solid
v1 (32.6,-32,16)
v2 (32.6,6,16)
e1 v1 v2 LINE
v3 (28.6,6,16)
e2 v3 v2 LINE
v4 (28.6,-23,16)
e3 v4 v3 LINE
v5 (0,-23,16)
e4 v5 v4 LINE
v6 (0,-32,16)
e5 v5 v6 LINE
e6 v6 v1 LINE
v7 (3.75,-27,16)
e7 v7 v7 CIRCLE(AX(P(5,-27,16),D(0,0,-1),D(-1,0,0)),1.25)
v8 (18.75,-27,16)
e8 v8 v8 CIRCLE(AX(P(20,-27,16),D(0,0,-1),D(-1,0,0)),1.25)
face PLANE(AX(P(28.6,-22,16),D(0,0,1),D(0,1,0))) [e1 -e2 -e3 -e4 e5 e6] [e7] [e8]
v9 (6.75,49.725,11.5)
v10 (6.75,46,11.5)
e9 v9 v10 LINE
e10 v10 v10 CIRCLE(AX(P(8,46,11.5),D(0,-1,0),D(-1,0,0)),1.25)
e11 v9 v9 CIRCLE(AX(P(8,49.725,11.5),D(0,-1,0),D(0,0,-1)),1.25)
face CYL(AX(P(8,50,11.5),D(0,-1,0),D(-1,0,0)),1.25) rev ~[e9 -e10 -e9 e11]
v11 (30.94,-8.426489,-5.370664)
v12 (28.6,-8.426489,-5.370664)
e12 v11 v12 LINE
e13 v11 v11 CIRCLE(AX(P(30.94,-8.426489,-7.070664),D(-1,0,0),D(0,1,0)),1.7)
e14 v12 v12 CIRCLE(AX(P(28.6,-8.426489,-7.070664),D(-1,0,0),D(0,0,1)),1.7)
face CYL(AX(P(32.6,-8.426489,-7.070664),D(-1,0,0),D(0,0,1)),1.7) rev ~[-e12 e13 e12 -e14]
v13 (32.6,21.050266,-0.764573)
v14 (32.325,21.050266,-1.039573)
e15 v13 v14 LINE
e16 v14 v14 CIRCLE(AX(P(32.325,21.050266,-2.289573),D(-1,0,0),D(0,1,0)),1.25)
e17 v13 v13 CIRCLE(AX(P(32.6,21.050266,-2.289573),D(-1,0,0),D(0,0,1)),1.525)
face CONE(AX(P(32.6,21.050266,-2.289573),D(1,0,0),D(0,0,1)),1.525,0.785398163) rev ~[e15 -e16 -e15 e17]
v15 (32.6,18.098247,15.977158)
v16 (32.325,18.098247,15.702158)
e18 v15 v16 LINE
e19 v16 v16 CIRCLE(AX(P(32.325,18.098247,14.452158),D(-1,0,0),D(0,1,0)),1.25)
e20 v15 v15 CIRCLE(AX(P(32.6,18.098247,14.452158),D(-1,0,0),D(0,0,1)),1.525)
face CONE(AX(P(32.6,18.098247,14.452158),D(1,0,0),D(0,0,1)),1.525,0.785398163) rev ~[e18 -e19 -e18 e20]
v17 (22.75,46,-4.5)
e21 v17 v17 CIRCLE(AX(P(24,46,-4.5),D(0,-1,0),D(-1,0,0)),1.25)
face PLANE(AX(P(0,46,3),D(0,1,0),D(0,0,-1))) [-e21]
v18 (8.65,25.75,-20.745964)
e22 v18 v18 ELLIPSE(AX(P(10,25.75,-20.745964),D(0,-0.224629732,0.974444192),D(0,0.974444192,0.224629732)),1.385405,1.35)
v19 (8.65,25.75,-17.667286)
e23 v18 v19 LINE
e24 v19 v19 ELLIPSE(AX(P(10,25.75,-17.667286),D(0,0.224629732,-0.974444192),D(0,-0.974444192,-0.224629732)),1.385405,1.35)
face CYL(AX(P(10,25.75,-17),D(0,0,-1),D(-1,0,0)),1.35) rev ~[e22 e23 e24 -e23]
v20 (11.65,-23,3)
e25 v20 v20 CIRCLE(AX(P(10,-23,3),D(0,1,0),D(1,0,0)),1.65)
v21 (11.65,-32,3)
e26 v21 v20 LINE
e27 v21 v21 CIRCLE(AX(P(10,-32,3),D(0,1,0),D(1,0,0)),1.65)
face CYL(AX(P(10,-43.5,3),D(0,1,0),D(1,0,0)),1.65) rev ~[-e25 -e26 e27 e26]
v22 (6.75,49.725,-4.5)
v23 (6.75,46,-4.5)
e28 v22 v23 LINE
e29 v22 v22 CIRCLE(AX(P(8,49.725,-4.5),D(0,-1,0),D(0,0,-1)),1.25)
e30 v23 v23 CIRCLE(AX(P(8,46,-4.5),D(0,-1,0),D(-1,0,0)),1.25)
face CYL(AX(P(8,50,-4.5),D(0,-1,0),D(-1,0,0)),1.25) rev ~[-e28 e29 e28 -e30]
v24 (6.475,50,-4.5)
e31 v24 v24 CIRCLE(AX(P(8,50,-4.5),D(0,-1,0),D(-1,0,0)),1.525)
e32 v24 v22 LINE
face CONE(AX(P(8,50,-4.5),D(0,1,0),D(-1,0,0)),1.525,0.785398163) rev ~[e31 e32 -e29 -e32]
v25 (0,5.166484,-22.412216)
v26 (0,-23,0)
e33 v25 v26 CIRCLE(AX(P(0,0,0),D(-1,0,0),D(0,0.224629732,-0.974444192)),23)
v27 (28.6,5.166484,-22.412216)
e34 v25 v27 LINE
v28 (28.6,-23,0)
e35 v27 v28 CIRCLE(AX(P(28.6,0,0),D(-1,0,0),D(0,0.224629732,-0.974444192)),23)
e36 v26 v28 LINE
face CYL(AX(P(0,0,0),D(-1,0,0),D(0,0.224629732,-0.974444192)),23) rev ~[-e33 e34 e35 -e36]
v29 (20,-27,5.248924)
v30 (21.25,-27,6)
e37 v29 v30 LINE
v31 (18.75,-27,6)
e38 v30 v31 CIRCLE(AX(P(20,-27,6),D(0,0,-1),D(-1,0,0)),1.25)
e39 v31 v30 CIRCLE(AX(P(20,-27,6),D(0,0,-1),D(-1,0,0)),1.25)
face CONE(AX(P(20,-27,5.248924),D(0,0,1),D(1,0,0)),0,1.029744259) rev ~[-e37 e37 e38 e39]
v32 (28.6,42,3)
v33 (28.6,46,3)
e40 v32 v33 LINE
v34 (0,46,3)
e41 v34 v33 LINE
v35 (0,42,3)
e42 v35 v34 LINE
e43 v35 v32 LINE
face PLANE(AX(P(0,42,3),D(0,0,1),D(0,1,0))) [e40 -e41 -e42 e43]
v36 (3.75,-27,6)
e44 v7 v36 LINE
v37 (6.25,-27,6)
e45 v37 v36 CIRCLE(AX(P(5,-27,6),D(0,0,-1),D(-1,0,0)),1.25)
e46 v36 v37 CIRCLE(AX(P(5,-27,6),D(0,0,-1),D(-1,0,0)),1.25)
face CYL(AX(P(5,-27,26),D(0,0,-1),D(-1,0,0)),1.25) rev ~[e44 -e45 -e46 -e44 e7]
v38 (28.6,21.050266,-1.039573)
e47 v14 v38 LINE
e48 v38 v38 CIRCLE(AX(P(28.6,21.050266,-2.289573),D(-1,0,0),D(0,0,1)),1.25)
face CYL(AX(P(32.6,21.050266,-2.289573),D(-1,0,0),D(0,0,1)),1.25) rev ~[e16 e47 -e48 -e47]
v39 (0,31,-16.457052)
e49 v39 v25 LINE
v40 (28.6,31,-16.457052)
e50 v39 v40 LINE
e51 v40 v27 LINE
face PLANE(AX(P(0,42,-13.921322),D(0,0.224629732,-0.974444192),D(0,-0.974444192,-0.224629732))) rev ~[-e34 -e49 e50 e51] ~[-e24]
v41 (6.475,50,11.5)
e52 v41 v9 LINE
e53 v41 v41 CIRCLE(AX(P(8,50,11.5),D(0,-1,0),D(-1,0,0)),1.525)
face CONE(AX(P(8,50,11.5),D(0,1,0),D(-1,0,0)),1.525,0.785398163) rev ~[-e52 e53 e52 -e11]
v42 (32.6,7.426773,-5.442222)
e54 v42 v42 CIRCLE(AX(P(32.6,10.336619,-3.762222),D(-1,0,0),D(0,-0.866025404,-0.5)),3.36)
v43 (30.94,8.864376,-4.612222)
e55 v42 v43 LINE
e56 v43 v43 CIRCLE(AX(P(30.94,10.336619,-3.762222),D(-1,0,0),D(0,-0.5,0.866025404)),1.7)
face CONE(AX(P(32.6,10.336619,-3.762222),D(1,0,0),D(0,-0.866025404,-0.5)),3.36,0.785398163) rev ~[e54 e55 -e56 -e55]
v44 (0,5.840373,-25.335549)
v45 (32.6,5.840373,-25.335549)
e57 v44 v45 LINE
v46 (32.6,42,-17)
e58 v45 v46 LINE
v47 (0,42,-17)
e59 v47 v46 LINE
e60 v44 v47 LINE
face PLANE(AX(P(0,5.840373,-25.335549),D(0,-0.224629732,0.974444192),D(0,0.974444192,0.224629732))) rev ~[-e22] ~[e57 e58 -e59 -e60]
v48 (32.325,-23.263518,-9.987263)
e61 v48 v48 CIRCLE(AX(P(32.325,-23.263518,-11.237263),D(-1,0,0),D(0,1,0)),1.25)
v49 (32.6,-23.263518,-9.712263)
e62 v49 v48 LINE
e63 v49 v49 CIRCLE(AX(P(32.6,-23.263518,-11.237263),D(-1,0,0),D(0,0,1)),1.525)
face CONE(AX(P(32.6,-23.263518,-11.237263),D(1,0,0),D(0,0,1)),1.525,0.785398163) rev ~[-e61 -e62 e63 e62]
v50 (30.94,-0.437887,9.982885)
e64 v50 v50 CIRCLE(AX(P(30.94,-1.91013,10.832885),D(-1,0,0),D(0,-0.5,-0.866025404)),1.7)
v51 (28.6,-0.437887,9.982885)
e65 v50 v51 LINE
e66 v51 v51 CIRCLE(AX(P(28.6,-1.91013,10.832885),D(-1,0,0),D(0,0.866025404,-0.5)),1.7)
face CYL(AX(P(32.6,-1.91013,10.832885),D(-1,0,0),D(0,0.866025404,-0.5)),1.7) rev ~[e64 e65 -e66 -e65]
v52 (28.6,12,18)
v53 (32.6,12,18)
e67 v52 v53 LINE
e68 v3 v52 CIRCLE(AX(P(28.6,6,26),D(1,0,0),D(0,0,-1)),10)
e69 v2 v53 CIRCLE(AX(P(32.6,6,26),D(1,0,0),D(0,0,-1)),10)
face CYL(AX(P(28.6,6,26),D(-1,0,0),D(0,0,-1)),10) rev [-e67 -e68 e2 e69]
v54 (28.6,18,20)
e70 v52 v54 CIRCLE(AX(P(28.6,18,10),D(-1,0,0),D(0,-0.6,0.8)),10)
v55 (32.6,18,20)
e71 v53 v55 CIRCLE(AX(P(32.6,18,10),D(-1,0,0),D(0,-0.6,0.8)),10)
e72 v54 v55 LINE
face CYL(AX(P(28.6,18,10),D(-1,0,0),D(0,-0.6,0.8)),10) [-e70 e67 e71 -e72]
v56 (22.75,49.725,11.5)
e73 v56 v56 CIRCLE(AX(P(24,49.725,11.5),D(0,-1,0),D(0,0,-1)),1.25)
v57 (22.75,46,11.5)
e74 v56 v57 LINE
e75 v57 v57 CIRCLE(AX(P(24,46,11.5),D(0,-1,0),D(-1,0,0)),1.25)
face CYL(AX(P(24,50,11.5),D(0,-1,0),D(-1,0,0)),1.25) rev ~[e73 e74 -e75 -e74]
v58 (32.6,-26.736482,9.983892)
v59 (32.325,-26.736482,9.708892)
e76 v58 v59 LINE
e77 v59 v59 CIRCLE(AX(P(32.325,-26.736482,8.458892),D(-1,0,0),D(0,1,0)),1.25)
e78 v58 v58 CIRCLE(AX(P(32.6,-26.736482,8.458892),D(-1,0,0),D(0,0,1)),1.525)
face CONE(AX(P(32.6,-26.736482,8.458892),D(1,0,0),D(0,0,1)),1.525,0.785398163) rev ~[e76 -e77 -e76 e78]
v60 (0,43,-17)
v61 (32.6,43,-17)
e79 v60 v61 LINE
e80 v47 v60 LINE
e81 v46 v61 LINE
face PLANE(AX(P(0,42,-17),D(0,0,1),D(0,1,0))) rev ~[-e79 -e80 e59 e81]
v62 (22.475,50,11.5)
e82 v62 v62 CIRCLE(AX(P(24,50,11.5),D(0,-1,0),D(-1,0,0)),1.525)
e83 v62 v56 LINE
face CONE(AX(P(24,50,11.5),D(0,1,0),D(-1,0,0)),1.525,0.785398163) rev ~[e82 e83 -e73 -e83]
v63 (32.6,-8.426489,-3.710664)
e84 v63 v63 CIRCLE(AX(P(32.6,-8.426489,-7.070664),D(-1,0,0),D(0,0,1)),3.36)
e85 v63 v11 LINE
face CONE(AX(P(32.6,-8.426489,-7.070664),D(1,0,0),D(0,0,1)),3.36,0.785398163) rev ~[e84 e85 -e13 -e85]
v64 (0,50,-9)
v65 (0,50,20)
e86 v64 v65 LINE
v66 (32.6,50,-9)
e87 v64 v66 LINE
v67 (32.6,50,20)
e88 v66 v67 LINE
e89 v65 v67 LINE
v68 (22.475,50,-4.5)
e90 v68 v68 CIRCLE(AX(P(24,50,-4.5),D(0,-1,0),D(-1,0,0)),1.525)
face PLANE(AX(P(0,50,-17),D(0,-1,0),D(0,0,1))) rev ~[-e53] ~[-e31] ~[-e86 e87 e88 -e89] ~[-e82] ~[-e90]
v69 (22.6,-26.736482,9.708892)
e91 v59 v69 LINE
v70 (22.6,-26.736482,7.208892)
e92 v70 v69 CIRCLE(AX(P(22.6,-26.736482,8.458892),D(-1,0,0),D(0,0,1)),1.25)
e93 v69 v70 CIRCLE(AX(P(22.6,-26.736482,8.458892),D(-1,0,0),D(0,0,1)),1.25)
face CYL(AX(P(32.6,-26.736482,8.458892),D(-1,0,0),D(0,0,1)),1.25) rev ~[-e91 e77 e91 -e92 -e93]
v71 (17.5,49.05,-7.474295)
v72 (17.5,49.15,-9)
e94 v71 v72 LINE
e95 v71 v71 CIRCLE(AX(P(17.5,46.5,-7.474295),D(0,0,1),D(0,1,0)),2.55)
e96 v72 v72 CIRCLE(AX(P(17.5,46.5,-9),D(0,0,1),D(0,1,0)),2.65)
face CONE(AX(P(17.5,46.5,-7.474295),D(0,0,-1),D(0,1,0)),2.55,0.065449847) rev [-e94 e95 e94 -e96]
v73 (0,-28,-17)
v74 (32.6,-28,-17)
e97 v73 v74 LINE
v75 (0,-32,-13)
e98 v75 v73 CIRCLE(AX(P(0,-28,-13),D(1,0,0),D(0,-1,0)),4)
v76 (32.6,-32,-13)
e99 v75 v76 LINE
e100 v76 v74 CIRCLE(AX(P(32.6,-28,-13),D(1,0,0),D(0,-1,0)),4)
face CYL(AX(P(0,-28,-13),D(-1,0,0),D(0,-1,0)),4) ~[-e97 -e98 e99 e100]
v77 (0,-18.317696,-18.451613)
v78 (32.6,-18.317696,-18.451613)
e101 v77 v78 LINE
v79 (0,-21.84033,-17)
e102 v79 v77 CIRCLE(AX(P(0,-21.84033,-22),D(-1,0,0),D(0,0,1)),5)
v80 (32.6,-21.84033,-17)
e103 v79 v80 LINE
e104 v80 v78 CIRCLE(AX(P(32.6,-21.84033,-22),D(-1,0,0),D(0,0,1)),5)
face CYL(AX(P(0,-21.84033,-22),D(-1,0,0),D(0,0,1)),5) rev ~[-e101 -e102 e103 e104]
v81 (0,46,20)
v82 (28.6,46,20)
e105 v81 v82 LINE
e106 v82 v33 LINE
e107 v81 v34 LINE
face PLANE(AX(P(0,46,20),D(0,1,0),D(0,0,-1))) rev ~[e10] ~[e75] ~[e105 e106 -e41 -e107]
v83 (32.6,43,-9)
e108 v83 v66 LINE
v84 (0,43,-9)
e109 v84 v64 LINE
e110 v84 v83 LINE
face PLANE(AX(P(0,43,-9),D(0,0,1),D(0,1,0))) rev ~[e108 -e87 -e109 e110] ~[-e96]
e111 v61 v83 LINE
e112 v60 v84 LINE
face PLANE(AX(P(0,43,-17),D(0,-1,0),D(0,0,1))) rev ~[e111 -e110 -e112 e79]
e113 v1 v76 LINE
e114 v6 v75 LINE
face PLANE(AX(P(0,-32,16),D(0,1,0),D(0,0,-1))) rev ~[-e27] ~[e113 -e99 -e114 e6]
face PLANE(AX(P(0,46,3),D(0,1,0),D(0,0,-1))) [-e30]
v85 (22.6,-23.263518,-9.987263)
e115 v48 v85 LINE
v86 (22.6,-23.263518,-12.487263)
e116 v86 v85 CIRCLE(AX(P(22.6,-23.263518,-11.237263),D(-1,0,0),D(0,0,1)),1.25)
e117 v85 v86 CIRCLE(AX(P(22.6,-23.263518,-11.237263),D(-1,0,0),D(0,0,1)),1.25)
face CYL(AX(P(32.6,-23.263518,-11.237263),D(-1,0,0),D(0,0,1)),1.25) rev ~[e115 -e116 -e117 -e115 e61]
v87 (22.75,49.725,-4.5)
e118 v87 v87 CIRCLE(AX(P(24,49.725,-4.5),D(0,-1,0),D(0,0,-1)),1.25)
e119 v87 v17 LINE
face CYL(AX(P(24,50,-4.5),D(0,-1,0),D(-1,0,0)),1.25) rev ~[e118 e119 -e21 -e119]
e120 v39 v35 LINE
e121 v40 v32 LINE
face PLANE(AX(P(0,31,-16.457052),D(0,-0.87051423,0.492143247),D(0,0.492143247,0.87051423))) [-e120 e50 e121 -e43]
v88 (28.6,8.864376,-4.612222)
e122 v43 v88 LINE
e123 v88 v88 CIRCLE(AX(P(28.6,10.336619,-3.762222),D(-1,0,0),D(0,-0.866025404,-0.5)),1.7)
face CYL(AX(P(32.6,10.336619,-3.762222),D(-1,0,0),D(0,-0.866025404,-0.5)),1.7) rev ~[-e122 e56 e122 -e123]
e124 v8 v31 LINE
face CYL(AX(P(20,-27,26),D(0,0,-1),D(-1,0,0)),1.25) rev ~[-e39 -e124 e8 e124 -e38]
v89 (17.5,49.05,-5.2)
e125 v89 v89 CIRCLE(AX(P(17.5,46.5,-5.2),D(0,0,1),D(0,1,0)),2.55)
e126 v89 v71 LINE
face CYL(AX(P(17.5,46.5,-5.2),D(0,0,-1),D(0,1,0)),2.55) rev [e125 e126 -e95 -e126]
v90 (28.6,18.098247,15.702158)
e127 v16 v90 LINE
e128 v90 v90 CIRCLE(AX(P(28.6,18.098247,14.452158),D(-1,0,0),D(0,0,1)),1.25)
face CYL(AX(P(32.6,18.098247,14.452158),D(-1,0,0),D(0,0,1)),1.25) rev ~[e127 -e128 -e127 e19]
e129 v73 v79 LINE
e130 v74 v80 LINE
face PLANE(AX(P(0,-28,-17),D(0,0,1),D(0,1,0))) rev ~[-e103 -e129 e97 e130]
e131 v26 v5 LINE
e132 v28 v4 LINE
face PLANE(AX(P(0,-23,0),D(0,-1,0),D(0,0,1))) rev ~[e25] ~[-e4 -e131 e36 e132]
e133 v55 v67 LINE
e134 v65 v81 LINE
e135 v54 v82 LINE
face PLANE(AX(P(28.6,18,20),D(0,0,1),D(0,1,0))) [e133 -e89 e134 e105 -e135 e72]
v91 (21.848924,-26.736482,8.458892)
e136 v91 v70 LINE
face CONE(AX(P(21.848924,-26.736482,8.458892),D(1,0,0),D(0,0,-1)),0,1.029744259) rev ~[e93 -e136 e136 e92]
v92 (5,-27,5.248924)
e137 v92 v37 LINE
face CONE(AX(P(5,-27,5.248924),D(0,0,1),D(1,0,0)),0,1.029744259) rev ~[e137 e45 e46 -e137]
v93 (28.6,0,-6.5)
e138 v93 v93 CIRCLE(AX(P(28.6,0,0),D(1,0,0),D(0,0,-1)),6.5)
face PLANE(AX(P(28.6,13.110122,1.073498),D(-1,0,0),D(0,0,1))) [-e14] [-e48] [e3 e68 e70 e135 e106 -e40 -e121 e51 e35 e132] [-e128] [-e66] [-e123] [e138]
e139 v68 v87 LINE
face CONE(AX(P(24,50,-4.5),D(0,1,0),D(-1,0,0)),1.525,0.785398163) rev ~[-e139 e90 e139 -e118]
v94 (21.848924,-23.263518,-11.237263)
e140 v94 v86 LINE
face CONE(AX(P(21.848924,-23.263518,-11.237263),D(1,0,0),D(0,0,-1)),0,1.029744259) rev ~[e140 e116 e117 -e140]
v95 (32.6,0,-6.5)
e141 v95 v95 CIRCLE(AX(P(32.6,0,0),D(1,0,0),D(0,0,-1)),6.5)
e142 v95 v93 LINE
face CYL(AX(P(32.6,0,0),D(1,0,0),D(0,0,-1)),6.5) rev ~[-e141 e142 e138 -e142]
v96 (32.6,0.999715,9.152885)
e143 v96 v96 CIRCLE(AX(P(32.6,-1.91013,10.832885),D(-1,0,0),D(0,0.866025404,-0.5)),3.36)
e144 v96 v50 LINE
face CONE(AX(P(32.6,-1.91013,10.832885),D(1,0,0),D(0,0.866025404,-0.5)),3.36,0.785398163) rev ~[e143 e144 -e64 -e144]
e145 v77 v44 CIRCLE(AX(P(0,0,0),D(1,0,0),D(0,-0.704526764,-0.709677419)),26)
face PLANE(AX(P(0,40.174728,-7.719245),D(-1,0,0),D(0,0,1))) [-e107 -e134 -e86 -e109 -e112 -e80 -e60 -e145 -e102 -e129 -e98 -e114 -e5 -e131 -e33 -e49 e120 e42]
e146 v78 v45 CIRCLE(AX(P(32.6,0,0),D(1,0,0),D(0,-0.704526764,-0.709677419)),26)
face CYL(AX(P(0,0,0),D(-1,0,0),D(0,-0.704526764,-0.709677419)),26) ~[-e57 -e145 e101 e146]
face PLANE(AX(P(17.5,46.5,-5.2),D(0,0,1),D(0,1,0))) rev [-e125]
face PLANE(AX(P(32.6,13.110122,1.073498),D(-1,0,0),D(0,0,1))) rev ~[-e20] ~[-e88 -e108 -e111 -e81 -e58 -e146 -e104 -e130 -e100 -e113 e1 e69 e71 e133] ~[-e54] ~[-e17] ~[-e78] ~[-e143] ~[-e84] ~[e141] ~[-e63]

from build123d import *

# Parameters (mm, degrees)
MOTOR_SHELL_DEPTH                     = 32.6
MOTOR_MOUNT_DEPTH                     = 4
MOUNTING_HOLE_D                       = 3.4
MOUNTING_HOLE_CSINK_D                 = 6.72
MOUNTING_HOLE_CSINK_ANGLE             = 90
HOLE_DUPLICATION_COUNT                = 3
SKETCH11_R                            = 6.5
SHAFT_BASE_CUTOUT_DEPTH               = 33.6
M3X0_5_TAPPED_HOLE1_D                 = 2.5
M3X0_5_TAPPED_HOLE1_DEPTH             = 10
M3X0_5_TAPPED_HOLE1_CSINK_D           = 3.05
M3X0_5_TAPPED_HOLE1_CSINK_ANGLE       = 90
M3X0_5_TAPPED_HOLE1_TIP               = 0.751075774
M3X0_5_TAPPED_HOLE2_D                 = 2.5
M3X0_5_TAPPED_HOLE2_DEPTH             = 7.5
M3X0_5_TAPPED_HOLE2_CSINK_D           = 3.05
M3X0_5_TAPPED_HOLE2_CSINK_ANGLE       = 90
M3X0_5_TAPPED_HOLE2_TIP               = 0.751075774
M3X0_5_TAPPED_HOLE5_D                 = 2.5
M3X0_5_TAPPED_HOLE5_DEPTH             = 10
M3X0_5_TAPPED_HOLE5_TIP               = 0.751075774
M3X0_5_TAPPED_HOLE6_REACH             = 39
SKETCH26_R                            = 1.35
M3X0_5_TAPPED_HOLE6_DIRECTION_2_REACH = 11
M4X0_7_TAPPED_HOLE1_D                 = 3.3
M4X0_7_TAPPED_HOLE1_DEPTH             = 11.5
M4X0_7_TAPPED_HOLE1_TIP               = 0.991420021
ENLARGE_CAVITY_DEPTH                  = 28.6
MOD_1_DEPTH                           = 28.6
SKETCH31_W                            = 8
SKETCH31_H                            = 7
MOD_2_DEPTH                           = 32.6


with BuildPart() as part:
    # Motor Shell Profile → Motor Shell (new body)
    with BuildSketch(Plane(origin=(0, 0, 0), x_dir=(0, 0, -1), z_dir=(1, 0, 0))):
        with BuildLine():
            Line((25.335548996, 5.840373025), (17, 42))
            Line((17, 42), (17, 50))
            Line((17, 50), (-20, 50))
            Line((-20, 50), (-20, 46))
            Line((-20, 46), (10.895095859, 46))
            ThreePointArc((10.895095859, 46), (12.309309421, 45.414213562), (12.895095859, 44))
            Line((12.895095859, 44), (12.895095859, 42))
            Line((12.895095859, 42), (21.437772227, 4.941854098))
            ThreePointArc((21.437772227, 4.941854098), (17.215121117, -13.69816064), (0, -22))
            Line((0, -22), (-16, -22))
            Line((-16, -22), (-16, -32))
            Line((-16, -32), (13, -32))
            ThreePointArc((13, -32), (15.828427125, -30.828427125), (17, -28))
            Line((17, -28), (17, -21.840329668))
            ThreePointArc((17, -21.840329668), (17.377125597, -19.935327763), (18.451612903, -18.31769585))
            ThreePointArc((18.451612903, -18.31769585), (25.004638765, -7.125169489), (25.335548996, 5.840373025))
        make_face()
    extrude(amount=MOTOR_SHELL_DEPTH)

    # Sketch3 → Motor Mount (add)
    with BuildSketch(Plane(origin=(28.6, 0, 0), x_dir=(0, 0, -1), z_dir=(1, 0, 0))):
        with BuildLine():
            Line((-20, 46), (12.895095859, 46))
            Line((12.895095859, 46), (12.895095859, 42))
            Line((12.895095859, 42), (21.437772227, 4.941854098))
            ThreePointArc((21.437772227, 4.941854098), (17.215121117, -13.69816064), (0, -22))
            Line((0, -22), (-16, -22))
            Line((-16, -22), (-16, 6))
            ThreePointArc((-16, 6), (-16.513167019, 9.16227766), (-18, 12))
            ThreePointArc((-18, 12), (-19.486832981, 14.83772234), (-20, 18))
            Line((-20, 18), (-20, 46))
        make_face()
    extrude(amount=MOTOR_MOUNT_DEPTH)

    # Mounting Hole (through all)
    with Locations(Plane(origin=(32.6, 0, 0), x_dir=(0, 0, -1), z_dir=(1, 0, 0))):
        with Locations((7.070663707, -8.426488874)):
            mounting_hole = CounterSinkHole(MOUNTING_HOLE_D / 2, MOUNTING_HOLE_CSINK_D / 2, counter_sink_angle=MOUNTING_HOLE_CSINK_ANGLE)

    # Hole Duplication: Mounting Hole ×3 about axis
    hole_duplication_axis = Axis((0, 0, 0), (1, 0, 0))
    for i in range(1, HOLE_DUPLICATION_COUNT):
        add(mounting_hole.rotate(hole_duplication_axis, i * 360 / HOLE_DUPLICATION_COUNT), mode=Mode.SUBTRACT)

    # Sketch11 → Shaft Base Cutout (cut, through all)
    with BuildSketch(Plane(origin=(32.6, 0, 0), x_dir=(0, 0, -1), z_dir=(1, 0, 0))):
        Circle(SKETCH11_R)
    extrude(amount=-SHAFT_BASE_CUTOUT_DEPTH, mode=Mode.SUBTRACT)

    # M3x0.5 Tapped Hole1
    with Locations(Plane(origin=(32.6, 0, 0), x_dir=(0, 0, -1), z_dir=(1, 0, 0))):
        with Locations((-8.458892109, -26.736481777), (11.237262951, -23.263518223), (-14.452158477, 18.098247344), (2.289573324, 21.050266364)):
            CounterSinkHole(M3X0_5_TAPPED_HOLE1_D / 2, M3X0_5_TAPPED_HOLE1_CSINK_D / 2, depth=M3X0_5_TAPPED_HOLE1_DEPTH, counter_sink_angle=M3X0_5_TAPPED_HOLE1_CSINK_ANGLE)
            with Locations((0, 0, -(M3X0_5_TAPPED_HOLE1_DEPTH + M3X0_5_TAPPED_HOLE1_TIP / 2))):  # 118° drill point
                Cone(0, M3X0_5_TAPPED_HOLE1_D / 2, M3X0_5_TAPPED_HOLE1_TIP, mode=Mode.SUBTRACT)

    # M3x0.5 Tapped Hole2
    with Locations(Plane(origin=(0, 50, 0), x_dir=(1, 0, 0), z_dir=(0, 1, 0))):
        with Locations((8, 4.5), (8, -11.5), (24, -11.5), (24, 4.5)):
            CounterSinkHole(M3X0_5_TAPPED_HOLE2_D / 2, M3X0_5_TAPPED_HOLE2_CSINK_D / 2, depth=M3X0_5_TAPPED_HOLE2_DEPTH, counter_sink_angle=M3X0_5_TAPPED_HOLE2_CSINK_ANGLE)
            with Locations((0, 0, -(M3X0_5_TAPPED_HOLE2_DEPTH + M3X0_5_TAPPED_HOLE2_TIP / 2))):  # 118° drill point
                Cone(0, M3X0_5_TAPPED_HOLE2_D / 2, M3X0_5_TAPPED_HOLE2_TIP, mode=Mode.SUBTRACT)

    # M3x0.5 Tapped Hole5
    with Locations(Plane.XY.offset(16)):
        with Locations((5, -27), (20, -27)):
            Hole(M3X0_5_TAPPED_HOLE5_D / 2, depth=M3X0_5_TAPPED_HOLE5_DEPTH)
            with Locations((0, 0, -(M3X0_5_TAPPED_HOLE5_DEPTH + M3X0_5_TAPPED_HOLE5_TIP / 2))):  # 118° drill point
                Cone(0, M3X0_5_TAPPED_HOLE5_D / 2, M3X0_5_TAPPED_HOLE5_TIP, mode=Mode.SUBTRACT)

    # Sketch26 → M3x0.5 Tapped Hole6 (cut, up to next)
    with BuildSketch(Plane(origin=(0, 0, -17), x_dir=(-1, 0, 0), z_dir=(0, 0, -1)), mode=Mode.PRIVATE) as m3x0_5_tapped_hole6_sk1:
        with Locations((-10, 25.75)):
            Circle(SKETCH26_R)
    m3x0_5_tapped_hole6_tool1 = extrude(m3x0_5_tapped_hole6_sk1.sketch, amount=-M3X0_5_TAPPED_HOLE6_REACH, mode=Mode.PRIVATE) & part.part
    add(m3x0_5_tapped_hole6_tool1.solids().sort_by_distance((10, 25.75, -17))[0], mode=Mode.SUBTRACT)

    # Sketch26 → M3x0.5 Tapped Hole6 direction 2 (cut, up to next)
    with BuildSketch(Plane(origin=(0, 0, -17), x_dir=(-1, 0, 0), z_dir=(0, 0, -1)), mode=Mode.PRIVATE) as m3x0_5_tapped_hole6_direction_2_sk1:
        with Locations((-10, 25.75)):
            Circle(SKETCH26_R)
    m3x0_5_tapped_hole6_direction_2_tool1 = extrude(m3x0_5_tapped_hole6_direction_2_sk1.sketch, amount=M3X0_5_TAPPED_HOLE6_DIRECTION_2_REACH, mode=Mode.PRIVATE) & part.part
    add(m3x0_5_tapped_hole6_direction_2_tool1.solids().sort_by_distance((10, 25.75, -17))[0], mode=Mode.SUBTRACT)

    # M4x0.7 Tapped Hole1
    with Locations(Plane(origin=(0, -32, 0), x_dir=(-1, 0, 0), z_dir=(0, -1, 0))):
        with Locations((-10, -3)):
            Hole(M4X0_7_TAPPED_HOLE1_D / 2, depth=M4X0_7_TAPPED_HOLE1_DEPTH)
            with Locations((0, 0, -(M4X0_7_TAPPED_HOLE1_DEPTH + M4X0_7_TAPPED_HOLE1_TIP / 2))):  # 118° drill point
                Cone(0, M4X0_7_TAPPED_HOLE1_D / 2, M4X0_7_TAPPED_HOLE1_TIP, mode=Mode.SUBTRACT)

    # Sketch29 → Enlarge Cavity (cut)
    with BuildSketch(Plane.ZY):
        with BuildLine():
            Line((0, -23), (16, -23))
            Line((16, -23), (16, 6))
            ThreePointArc((16, 6), (16.513167019, 9.16227766), (18, 12))
            ThreePointArc((18, 12), (19.486832981, 14.83772234), (20, 18))
            Line((20, 18), (20, 46))
            Line((20, 46), (-11.921321894, 46))
            ThreePointArc((-11.921321894, 46), (-13.335535456, 45.414213562), (-13.921321894, 44))
            Line((-13.921321894, 44), (-13.921321894, 42))
            Line((-13.921321894, 42), (-22.412216419, 5.16648383))
            ThreePointArc((-22.412216419, 5.16648383), (-17.997626623, -14.320804305), (0, -23))
        make_face()
    extrude(amount=-ENLARGE_CAVITY_DEPTH, mode=Mode.SUBTRACT)

    # Sketch30 → Mod 1 (add)
    with BuildSketch(Plane.ZY):
        with BuildLine():
            Line((-16.457051563, 31), (3, 42))
            Line((3, 42), (3, 46))
            Line((3, 46), (-11.921321894, 46))
            ThreePointArc((-11.921321894, 46), (-13.335535456, 45.414213562), (-13.921321894, 44))
            Line((-13.921321894, 44), (-13.921321894, 42))
            Line((-13.921321894, 42), (-16.457051563, 31))
        make_face()
    extrude(amount=-MOD_1_DEPTH)

    # Sketch31 → Mod 2 (cut)
    with BuildSketch(Plane.ZY):
        with Locations((-13, 46.5)):
            Rectangle(SKETCH31_W, SKETCH31_H)
    extrude(amount=-MOD_2_DEPTH, mode=Mode.SUBTRACT)

    # Sketch33 → Hole1 (revolve, cut)
    with BuildSketch(Plane(origin=(17.5, 46.5, -9), x_dir=(0, 1, 0), z_dir=(1, 0, 0))):
        Polygon((0, 0), (0, 3.8), (2.55, 3.8), (2.55, 1.525705169), (2.65, 0), align=None)
    revolve(axis=Axis((17.5, 46.5, -15.445314094), (0, 0, 1)), mode=Mode.SUBTRACT)


solid = part.part
